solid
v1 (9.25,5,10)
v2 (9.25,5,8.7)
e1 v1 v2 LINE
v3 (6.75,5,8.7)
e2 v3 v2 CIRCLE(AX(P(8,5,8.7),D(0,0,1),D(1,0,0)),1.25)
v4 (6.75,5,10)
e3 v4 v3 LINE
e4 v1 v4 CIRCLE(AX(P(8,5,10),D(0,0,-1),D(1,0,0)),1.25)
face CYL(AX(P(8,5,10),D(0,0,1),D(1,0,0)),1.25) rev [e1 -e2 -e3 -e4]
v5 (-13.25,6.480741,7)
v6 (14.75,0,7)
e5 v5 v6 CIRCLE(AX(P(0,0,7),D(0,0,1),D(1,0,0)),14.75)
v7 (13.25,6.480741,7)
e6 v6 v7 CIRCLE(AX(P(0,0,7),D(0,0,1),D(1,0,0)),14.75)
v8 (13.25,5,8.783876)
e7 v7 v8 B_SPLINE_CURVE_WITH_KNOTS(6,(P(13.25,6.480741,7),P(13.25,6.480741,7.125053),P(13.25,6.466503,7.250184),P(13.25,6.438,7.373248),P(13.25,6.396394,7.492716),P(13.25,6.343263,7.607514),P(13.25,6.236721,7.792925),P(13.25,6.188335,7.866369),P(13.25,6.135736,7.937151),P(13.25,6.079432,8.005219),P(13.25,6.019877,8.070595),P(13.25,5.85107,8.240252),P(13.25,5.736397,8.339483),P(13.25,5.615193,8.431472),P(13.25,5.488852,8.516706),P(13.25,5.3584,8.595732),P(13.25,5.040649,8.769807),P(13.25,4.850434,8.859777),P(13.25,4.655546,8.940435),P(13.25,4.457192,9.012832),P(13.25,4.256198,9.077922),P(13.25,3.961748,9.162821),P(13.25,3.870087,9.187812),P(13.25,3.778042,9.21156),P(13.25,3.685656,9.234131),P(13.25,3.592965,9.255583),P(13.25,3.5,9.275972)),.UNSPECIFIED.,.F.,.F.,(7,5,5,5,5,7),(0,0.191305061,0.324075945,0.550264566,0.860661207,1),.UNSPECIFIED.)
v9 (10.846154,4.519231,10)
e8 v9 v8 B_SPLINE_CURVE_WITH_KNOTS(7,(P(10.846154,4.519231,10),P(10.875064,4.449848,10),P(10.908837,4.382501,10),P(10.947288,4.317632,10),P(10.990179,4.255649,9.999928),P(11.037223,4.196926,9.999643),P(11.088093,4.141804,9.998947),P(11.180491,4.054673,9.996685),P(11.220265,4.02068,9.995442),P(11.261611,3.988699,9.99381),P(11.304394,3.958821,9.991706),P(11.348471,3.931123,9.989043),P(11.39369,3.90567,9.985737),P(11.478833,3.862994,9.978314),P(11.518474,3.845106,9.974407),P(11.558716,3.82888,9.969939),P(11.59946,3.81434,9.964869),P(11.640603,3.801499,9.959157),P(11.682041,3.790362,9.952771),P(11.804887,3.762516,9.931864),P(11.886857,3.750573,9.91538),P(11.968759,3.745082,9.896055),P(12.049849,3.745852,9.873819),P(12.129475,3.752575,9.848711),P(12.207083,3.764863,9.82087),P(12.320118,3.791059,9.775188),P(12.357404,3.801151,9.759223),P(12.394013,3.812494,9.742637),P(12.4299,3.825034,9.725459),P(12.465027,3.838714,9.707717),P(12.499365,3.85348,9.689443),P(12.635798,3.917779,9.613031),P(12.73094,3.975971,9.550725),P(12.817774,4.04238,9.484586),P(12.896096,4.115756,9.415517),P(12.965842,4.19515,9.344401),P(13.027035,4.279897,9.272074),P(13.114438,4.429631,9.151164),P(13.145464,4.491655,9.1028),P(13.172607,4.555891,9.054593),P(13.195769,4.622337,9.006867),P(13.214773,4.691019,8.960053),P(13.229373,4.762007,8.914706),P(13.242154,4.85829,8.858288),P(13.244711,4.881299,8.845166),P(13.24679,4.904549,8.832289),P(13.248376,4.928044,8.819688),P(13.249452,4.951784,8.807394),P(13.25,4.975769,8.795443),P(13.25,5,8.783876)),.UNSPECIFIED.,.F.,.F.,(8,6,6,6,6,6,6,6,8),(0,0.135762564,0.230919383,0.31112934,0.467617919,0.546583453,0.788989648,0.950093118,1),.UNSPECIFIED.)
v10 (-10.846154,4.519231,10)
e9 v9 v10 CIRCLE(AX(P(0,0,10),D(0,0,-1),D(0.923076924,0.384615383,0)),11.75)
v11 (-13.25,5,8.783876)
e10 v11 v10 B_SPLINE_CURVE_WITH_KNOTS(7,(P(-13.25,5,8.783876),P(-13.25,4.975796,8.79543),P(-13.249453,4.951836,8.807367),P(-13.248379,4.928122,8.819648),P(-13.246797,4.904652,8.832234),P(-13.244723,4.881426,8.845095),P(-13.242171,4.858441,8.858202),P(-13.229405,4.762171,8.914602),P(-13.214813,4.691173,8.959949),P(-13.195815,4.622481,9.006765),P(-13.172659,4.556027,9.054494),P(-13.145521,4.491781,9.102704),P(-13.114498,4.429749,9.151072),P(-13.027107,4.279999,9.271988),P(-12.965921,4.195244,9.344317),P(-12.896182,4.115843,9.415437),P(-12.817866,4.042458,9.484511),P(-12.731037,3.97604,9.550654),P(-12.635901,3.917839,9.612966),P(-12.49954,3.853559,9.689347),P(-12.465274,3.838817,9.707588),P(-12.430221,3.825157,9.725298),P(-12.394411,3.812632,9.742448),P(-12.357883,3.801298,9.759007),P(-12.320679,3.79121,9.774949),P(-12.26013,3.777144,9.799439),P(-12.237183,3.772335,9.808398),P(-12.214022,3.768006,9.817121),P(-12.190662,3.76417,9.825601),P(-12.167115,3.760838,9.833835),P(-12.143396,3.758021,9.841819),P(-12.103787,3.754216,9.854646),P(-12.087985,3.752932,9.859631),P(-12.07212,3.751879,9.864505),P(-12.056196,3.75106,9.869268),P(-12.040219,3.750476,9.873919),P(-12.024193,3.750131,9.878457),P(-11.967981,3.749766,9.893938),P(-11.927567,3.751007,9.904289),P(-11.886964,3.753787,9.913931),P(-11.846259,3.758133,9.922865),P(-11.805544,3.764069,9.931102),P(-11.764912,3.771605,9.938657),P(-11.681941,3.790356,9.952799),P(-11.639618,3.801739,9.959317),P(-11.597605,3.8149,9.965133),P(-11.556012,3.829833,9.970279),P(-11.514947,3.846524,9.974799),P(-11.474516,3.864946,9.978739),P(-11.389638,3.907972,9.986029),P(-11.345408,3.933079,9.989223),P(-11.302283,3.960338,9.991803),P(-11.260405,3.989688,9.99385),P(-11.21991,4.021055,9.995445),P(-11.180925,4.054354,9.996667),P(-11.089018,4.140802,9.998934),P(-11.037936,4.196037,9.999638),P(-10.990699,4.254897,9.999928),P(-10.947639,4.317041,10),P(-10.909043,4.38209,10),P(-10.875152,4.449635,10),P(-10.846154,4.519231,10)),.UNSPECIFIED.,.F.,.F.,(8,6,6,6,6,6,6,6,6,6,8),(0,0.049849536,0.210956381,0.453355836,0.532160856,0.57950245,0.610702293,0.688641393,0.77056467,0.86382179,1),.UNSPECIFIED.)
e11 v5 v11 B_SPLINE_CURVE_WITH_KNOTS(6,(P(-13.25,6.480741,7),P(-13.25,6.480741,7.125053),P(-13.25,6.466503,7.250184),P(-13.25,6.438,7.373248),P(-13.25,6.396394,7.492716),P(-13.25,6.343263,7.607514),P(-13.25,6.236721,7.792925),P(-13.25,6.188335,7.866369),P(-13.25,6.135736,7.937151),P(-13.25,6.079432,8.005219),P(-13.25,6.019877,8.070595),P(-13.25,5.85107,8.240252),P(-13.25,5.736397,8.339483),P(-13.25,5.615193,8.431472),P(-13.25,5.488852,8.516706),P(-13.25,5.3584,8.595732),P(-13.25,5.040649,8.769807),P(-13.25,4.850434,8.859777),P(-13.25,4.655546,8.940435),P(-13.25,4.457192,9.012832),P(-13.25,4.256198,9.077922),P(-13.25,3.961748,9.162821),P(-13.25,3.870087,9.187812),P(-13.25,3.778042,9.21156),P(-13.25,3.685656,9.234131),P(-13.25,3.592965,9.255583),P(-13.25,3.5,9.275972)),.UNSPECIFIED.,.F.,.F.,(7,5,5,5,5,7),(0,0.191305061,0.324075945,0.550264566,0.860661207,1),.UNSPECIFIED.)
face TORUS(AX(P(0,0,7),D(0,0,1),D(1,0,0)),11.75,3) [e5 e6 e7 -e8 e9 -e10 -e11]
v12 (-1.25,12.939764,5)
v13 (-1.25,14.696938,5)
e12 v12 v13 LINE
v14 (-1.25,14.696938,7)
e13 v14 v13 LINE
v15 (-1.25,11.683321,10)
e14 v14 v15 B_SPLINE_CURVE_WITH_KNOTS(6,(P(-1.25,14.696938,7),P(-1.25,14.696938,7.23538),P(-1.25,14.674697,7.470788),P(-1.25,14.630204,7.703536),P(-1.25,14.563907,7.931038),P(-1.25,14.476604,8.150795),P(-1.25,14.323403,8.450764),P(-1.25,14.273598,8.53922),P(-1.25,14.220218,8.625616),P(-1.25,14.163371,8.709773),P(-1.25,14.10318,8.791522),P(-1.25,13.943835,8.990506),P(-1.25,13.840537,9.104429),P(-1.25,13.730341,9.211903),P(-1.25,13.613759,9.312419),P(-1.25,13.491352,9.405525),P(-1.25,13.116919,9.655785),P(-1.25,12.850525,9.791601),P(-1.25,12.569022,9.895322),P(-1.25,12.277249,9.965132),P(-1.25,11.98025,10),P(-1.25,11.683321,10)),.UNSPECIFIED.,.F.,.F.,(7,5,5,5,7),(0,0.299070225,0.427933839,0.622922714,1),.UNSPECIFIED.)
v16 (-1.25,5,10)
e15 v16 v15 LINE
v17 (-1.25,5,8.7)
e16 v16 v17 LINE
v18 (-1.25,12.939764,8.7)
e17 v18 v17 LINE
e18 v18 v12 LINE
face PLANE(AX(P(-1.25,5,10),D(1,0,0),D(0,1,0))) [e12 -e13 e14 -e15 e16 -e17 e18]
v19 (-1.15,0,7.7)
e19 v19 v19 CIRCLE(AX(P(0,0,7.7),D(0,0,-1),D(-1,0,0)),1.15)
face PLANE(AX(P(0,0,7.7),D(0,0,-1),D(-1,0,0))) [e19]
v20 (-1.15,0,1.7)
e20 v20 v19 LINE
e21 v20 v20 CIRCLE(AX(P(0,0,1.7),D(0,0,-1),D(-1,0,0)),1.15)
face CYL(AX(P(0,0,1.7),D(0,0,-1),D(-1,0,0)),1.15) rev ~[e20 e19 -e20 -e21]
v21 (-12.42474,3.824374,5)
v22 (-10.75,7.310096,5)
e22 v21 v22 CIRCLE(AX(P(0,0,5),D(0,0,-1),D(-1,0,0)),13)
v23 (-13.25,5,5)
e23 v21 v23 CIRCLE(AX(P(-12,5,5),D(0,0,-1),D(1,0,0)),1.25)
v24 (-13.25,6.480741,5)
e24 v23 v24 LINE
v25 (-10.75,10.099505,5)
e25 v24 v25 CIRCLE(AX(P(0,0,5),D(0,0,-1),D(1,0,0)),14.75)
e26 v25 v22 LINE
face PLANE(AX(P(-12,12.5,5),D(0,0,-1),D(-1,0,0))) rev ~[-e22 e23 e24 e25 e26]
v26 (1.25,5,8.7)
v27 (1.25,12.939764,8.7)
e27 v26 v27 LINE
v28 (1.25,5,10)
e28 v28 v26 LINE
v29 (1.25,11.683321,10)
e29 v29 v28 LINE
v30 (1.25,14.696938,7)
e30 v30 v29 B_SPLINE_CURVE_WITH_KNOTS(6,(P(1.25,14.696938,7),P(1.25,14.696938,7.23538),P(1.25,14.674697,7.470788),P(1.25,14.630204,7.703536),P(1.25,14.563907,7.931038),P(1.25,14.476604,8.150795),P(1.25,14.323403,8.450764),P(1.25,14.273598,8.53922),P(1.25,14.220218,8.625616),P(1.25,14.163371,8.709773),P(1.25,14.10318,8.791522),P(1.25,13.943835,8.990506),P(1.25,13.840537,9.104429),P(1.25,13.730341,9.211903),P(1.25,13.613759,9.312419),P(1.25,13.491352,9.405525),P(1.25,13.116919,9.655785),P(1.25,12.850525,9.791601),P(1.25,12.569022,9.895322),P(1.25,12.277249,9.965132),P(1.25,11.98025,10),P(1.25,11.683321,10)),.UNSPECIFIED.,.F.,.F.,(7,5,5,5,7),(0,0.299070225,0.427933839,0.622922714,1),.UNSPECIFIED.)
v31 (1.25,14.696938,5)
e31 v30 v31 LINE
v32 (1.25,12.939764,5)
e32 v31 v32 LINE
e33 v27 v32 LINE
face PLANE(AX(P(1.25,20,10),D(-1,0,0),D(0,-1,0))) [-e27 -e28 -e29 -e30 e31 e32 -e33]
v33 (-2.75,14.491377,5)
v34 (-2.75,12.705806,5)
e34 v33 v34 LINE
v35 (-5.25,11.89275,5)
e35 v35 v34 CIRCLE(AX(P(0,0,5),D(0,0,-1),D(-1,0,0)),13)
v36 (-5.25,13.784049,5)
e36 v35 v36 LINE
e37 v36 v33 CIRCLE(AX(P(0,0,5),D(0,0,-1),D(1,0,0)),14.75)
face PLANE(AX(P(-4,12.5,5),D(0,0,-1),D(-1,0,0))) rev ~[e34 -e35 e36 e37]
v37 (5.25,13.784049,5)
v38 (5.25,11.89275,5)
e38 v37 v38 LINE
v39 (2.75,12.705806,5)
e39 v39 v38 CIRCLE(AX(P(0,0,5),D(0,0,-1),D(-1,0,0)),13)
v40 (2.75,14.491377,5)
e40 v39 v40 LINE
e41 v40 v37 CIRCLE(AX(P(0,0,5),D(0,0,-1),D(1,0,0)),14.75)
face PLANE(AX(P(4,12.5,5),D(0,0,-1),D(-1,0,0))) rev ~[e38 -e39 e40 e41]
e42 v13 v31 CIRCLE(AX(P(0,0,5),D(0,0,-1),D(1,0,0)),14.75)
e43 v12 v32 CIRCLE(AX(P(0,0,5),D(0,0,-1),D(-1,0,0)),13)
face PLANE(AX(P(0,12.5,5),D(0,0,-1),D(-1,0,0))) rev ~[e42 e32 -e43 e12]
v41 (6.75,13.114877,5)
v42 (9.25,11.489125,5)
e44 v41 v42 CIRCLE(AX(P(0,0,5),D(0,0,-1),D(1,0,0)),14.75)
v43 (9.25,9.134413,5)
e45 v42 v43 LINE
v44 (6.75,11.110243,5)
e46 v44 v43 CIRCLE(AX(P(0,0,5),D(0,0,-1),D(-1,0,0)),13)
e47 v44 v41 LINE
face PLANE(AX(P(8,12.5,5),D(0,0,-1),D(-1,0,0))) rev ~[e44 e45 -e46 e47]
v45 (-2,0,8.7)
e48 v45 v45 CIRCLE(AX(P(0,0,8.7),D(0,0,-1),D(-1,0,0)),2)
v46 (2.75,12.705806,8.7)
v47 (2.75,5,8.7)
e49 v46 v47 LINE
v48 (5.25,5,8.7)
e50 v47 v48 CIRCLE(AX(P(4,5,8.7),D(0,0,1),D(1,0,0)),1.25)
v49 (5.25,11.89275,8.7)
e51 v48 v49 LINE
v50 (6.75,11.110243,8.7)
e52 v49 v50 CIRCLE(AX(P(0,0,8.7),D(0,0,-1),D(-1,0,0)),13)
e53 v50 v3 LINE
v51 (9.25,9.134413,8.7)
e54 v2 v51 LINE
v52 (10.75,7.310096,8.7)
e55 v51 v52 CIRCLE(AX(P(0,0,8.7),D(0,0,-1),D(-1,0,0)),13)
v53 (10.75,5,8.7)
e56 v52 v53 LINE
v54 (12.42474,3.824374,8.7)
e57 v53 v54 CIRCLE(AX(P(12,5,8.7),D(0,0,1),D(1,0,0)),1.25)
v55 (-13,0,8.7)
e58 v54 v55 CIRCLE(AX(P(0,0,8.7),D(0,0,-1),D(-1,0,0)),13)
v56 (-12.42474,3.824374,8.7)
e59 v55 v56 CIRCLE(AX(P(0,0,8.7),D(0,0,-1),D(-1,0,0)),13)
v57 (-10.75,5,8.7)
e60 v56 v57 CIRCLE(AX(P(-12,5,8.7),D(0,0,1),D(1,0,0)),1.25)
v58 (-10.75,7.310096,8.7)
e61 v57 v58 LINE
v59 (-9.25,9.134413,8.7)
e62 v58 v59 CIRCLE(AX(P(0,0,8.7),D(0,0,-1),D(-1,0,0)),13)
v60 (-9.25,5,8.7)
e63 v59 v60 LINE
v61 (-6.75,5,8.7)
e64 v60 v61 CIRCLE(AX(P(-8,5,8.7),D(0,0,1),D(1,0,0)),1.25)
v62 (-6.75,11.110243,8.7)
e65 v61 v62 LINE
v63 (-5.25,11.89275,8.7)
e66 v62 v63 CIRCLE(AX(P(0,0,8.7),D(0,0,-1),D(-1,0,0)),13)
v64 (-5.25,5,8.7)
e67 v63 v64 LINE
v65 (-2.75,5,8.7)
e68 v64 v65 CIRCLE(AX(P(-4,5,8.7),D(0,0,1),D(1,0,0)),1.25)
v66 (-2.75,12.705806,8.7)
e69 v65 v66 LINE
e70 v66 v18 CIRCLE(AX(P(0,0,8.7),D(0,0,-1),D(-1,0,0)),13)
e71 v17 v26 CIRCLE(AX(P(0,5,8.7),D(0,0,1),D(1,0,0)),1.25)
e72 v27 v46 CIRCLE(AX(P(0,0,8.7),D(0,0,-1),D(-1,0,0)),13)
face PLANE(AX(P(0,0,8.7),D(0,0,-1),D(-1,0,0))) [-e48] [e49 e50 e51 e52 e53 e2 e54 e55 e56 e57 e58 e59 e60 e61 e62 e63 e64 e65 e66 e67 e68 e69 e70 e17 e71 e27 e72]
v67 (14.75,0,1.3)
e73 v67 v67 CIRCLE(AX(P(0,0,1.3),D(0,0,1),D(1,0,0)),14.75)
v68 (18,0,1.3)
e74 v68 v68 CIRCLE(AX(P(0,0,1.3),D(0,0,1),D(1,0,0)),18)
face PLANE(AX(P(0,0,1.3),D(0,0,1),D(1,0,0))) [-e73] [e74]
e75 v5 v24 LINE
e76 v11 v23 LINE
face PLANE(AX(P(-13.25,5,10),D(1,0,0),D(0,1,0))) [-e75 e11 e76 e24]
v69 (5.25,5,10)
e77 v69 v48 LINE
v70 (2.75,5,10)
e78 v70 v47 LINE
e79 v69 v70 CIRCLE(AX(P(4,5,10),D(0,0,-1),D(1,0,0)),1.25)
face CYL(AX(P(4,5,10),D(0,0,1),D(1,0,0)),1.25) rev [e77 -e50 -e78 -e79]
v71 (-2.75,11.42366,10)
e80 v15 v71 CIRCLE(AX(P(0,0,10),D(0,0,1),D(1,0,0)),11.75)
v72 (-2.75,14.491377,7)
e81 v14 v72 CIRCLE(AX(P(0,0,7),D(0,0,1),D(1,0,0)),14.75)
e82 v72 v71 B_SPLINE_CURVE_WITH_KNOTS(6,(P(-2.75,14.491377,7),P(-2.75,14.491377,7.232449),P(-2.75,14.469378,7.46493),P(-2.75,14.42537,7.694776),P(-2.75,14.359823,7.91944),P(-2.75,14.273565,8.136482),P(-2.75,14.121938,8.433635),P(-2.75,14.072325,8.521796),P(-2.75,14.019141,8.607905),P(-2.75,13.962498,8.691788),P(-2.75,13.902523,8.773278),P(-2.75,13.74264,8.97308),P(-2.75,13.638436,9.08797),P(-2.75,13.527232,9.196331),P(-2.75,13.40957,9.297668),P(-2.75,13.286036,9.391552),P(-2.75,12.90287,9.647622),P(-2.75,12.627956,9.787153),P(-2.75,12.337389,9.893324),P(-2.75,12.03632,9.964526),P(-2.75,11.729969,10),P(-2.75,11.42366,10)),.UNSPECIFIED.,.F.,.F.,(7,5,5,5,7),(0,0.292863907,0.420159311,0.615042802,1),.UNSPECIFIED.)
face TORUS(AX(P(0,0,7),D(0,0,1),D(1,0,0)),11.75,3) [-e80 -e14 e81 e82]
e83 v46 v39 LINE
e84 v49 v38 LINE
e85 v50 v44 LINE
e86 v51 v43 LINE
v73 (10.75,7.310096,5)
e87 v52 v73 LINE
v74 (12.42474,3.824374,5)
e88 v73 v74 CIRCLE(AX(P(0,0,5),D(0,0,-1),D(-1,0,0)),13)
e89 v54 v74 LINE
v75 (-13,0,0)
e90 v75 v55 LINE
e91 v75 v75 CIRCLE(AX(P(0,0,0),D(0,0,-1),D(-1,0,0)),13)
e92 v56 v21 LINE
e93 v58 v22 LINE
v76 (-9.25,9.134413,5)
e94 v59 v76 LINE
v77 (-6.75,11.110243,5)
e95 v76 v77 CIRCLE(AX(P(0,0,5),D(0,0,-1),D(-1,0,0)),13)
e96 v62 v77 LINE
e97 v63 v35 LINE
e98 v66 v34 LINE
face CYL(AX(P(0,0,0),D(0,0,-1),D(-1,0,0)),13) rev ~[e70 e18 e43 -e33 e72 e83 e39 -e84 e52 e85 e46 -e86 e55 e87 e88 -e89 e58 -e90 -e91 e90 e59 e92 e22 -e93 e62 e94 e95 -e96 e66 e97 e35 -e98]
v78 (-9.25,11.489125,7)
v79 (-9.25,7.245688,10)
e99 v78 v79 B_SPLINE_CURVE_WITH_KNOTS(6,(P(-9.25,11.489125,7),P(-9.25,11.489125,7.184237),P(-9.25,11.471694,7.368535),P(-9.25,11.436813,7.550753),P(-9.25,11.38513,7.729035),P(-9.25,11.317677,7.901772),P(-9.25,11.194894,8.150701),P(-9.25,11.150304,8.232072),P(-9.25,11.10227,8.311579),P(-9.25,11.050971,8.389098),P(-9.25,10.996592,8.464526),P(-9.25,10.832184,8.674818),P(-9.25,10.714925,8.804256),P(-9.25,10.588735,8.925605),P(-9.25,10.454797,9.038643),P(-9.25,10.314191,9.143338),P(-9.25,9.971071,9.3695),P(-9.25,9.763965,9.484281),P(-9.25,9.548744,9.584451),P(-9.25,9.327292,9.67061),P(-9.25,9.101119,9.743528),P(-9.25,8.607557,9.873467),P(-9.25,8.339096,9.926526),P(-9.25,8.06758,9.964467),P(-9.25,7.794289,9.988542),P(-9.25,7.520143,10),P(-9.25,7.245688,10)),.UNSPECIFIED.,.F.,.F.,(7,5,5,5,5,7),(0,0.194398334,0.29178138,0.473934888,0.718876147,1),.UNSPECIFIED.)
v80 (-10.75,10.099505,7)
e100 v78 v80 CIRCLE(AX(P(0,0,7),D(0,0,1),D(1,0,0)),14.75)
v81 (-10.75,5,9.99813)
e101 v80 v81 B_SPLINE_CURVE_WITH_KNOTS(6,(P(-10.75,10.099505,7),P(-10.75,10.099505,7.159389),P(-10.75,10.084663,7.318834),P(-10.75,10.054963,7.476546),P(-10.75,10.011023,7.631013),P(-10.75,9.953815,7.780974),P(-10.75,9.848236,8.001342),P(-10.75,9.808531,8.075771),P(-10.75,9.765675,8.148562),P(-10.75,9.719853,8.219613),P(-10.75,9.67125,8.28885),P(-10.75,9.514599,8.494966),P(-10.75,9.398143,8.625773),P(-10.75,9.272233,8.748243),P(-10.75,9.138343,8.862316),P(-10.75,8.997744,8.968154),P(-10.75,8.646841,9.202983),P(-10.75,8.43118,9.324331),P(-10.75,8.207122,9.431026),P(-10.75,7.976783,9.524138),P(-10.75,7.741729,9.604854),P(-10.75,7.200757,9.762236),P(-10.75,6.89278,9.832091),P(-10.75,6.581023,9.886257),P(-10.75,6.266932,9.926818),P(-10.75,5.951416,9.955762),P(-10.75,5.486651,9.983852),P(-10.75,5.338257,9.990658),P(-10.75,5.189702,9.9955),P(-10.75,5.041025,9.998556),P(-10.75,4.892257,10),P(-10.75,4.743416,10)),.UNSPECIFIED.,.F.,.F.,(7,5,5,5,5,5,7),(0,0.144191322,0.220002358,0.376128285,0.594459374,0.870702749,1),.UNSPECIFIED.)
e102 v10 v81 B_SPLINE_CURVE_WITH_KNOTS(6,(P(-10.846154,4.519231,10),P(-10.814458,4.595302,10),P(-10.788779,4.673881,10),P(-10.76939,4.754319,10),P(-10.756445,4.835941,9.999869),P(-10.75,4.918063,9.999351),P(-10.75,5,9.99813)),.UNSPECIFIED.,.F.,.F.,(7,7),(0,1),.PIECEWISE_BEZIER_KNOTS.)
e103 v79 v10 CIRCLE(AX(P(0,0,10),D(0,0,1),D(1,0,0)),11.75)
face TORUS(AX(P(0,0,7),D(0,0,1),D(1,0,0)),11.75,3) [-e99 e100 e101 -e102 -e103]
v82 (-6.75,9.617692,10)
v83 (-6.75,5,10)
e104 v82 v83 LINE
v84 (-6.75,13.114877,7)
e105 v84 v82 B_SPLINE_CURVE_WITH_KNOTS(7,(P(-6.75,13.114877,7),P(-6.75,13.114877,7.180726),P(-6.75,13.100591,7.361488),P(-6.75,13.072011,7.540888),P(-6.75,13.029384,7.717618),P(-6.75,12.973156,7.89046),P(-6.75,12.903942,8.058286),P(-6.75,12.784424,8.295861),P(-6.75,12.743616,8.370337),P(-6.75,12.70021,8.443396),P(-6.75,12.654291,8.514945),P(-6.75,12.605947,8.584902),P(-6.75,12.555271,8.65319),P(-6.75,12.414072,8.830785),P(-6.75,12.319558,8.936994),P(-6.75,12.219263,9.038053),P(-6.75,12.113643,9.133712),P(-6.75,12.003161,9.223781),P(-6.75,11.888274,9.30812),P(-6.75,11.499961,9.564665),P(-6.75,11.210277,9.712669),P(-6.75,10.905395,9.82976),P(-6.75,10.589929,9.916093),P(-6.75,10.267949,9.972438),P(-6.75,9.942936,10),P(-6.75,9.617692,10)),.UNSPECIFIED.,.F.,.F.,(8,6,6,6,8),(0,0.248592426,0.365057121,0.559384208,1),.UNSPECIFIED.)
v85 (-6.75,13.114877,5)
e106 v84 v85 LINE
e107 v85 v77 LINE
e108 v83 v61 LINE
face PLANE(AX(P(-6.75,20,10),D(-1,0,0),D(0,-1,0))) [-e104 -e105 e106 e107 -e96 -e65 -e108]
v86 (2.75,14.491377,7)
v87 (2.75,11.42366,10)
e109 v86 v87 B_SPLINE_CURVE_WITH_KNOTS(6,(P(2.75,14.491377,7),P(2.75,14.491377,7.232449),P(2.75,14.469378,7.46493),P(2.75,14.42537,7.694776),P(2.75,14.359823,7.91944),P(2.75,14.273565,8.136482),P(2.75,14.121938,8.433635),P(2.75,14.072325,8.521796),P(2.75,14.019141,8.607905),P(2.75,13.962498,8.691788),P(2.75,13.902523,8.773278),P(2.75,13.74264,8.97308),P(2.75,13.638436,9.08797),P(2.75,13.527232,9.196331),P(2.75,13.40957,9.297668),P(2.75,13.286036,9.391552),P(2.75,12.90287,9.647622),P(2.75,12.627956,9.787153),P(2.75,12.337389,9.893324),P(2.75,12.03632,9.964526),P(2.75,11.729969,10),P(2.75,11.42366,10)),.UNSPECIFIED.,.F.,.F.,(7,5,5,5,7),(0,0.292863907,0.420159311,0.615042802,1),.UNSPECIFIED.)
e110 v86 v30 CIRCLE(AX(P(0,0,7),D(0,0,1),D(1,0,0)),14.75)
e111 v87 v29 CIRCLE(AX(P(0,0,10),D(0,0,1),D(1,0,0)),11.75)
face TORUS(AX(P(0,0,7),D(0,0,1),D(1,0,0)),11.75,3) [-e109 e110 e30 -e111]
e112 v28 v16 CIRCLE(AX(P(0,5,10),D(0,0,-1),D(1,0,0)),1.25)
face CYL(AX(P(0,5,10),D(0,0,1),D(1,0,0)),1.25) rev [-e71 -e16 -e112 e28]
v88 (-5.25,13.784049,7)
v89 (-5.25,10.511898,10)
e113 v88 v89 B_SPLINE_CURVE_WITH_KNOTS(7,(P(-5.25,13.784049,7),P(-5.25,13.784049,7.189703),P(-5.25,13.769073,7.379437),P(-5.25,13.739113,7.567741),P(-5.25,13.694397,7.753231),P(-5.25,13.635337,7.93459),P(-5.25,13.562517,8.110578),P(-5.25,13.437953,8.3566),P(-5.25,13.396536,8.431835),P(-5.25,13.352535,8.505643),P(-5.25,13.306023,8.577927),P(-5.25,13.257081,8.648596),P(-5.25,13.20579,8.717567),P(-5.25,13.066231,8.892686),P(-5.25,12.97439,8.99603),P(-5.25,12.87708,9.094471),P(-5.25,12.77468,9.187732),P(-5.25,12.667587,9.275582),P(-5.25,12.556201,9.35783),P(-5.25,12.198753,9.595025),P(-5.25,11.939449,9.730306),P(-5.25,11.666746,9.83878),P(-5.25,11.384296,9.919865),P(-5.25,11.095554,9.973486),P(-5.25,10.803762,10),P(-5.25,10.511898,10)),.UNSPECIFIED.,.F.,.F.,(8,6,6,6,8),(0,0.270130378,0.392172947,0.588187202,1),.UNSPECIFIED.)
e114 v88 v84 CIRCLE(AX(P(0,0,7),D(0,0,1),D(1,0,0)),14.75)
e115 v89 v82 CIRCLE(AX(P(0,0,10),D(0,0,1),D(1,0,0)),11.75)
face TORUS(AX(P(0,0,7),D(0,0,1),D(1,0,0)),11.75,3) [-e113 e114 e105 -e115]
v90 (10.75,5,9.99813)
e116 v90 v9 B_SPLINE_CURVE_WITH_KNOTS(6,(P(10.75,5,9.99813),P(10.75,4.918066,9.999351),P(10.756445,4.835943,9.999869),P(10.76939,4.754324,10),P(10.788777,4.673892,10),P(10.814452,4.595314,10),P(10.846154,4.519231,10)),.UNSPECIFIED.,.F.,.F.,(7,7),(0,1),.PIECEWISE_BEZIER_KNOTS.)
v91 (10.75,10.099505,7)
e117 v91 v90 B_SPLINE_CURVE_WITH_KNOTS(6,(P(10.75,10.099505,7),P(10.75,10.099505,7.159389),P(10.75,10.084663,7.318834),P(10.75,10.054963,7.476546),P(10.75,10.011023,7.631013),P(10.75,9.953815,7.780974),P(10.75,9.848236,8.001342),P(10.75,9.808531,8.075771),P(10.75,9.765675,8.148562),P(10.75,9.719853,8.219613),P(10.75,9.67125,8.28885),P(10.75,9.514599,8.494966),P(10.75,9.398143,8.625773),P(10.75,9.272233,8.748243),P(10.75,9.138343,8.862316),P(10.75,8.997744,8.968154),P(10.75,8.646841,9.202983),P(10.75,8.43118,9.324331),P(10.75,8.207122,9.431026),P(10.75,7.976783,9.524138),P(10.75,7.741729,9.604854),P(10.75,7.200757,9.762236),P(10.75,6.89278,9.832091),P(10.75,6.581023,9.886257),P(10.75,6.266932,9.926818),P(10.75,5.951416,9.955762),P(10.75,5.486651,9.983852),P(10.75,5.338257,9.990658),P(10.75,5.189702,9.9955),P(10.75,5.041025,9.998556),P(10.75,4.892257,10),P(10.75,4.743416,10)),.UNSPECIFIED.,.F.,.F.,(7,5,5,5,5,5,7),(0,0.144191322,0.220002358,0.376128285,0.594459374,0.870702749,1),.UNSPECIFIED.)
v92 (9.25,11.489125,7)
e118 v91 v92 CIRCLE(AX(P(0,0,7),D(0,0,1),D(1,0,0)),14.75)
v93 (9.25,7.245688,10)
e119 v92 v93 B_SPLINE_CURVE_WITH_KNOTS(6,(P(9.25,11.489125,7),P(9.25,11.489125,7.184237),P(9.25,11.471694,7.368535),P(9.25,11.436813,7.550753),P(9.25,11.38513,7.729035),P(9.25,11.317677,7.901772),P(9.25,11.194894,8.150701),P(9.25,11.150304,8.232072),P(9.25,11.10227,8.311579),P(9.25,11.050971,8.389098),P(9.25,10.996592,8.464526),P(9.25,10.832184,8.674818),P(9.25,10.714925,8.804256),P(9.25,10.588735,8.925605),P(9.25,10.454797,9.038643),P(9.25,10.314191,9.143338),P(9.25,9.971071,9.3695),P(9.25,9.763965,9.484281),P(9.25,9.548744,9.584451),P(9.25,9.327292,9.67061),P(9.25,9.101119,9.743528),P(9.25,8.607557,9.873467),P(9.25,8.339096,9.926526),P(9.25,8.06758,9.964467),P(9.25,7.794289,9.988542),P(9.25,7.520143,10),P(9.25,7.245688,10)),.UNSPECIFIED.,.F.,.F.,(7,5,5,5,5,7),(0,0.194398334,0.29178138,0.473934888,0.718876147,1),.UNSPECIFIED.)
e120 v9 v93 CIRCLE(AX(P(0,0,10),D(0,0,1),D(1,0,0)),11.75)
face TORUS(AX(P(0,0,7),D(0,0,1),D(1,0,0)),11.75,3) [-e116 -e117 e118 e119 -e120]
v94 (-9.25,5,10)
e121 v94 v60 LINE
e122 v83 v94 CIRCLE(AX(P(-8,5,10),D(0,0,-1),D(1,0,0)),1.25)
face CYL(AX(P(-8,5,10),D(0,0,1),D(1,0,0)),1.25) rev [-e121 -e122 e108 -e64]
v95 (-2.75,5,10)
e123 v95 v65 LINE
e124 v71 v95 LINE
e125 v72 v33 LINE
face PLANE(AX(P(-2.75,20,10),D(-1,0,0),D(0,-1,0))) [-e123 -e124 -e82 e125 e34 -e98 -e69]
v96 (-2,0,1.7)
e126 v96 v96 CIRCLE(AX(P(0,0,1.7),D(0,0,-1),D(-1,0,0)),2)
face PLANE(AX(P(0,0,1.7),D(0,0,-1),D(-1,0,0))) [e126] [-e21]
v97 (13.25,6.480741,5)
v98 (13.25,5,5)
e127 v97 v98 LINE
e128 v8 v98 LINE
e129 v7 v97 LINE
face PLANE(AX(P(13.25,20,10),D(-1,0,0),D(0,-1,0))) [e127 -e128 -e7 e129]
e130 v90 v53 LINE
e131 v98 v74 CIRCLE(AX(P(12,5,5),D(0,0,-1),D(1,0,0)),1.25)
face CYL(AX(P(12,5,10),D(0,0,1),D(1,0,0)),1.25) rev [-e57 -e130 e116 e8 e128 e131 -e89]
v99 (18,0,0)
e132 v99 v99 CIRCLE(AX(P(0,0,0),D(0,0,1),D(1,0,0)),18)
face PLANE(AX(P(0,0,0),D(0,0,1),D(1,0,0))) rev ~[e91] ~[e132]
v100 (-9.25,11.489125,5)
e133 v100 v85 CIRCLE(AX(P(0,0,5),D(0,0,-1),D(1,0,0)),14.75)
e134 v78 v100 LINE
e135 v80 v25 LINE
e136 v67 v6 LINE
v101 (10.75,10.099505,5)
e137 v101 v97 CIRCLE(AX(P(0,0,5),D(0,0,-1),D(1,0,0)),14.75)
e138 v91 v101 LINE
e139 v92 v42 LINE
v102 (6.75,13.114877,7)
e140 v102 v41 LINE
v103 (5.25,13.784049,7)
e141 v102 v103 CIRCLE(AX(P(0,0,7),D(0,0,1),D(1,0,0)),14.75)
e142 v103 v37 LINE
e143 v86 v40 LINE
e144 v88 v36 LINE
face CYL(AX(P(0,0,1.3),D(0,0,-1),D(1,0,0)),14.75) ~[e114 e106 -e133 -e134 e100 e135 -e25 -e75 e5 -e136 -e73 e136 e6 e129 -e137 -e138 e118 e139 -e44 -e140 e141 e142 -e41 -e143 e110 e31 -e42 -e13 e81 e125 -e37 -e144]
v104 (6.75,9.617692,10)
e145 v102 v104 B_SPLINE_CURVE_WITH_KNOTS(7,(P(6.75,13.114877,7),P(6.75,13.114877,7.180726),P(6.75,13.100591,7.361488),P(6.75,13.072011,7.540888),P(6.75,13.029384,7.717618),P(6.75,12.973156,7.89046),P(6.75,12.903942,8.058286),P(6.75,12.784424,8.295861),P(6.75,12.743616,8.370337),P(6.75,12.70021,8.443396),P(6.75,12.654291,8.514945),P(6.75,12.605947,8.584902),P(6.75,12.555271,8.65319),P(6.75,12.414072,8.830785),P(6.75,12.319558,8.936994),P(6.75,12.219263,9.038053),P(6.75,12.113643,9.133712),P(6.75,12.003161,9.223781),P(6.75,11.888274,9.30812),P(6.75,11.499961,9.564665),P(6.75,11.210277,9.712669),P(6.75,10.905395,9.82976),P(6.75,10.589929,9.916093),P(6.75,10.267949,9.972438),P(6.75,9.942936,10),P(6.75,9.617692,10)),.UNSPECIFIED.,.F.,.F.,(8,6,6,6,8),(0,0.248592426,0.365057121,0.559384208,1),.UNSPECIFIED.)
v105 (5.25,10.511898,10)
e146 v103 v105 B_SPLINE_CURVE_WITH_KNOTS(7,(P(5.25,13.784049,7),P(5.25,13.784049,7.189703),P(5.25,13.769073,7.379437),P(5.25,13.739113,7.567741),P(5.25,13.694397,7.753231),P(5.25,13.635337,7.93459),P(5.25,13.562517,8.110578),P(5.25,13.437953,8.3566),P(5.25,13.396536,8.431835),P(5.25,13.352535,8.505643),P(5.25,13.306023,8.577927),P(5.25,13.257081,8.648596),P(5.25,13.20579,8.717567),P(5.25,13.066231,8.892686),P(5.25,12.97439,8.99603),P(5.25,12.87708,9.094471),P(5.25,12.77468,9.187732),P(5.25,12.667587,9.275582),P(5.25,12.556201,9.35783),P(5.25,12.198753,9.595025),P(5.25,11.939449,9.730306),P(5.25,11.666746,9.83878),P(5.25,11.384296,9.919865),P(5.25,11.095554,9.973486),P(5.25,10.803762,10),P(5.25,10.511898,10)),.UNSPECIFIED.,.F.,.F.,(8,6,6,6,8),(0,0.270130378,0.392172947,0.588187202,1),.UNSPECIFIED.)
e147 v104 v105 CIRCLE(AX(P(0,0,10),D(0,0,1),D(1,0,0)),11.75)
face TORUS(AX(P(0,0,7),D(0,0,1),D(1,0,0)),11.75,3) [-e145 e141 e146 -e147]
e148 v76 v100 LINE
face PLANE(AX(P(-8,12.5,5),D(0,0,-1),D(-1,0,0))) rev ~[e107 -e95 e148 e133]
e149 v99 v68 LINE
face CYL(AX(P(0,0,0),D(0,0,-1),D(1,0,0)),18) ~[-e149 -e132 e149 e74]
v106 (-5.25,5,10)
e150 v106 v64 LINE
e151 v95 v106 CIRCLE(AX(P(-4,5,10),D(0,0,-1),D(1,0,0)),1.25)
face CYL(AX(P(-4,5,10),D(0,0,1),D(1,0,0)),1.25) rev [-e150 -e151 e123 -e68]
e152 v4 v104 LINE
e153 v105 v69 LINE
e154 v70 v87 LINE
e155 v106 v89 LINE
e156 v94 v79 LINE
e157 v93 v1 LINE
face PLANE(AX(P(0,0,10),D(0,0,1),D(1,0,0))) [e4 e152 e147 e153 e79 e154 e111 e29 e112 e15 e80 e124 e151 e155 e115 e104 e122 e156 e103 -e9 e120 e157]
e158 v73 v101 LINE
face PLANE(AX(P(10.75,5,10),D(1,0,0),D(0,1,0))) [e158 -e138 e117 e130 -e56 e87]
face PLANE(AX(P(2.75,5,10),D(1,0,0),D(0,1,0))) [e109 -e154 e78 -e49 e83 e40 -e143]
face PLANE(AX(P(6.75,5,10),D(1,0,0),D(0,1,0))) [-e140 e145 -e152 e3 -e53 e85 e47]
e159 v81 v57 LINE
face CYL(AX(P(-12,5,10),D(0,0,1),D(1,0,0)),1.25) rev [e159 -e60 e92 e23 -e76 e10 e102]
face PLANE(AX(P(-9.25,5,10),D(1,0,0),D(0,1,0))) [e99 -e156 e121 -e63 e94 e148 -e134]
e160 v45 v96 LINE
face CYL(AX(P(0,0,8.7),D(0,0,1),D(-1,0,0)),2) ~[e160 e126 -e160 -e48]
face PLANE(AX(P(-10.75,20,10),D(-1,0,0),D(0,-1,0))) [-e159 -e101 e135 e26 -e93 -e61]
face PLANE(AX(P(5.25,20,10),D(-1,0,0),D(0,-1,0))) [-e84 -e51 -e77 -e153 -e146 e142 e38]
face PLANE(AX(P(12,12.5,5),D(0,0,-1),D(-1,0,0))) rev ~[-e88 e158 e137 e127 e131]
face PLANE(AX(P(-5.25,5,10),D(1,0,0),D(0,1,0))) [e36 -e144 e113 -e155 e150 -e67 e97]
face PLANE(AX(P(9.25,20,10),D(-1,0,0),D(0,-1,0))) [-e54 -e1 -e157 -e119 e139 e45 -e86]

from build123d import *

# Parameters (mm, degrees)
SKETCH1_R           = 18
BOSS_EXTRUDE1_DEPTH = 1.3
SKETCH2_R           = 14.75
BOSS_EXTRUDE2_DEPTH = 8.7
FILLET1_R           = 3
SKETCH3_R           = 13
CUT_EXTRUDE1_DEPTH  = 8.7
SKETCH4_R           = 2
BOSS_EXTRUDE3_DEPTH = 7
SKETCH5_R           = 1.15
CUT_EXTRUDE2_DEPTH  = 6
CUT_EXTRUDE3_DEPTH  = 5


with BuildPart() as part:
    # Sketch1 → Boss-Extrude1 (new body)
    with BuildSketch(Plane.XY):
        Circle(SKETCH1_R)
    extrude(amount=BOSS_EXTRUDE1_DEPTH)

    # Sketch2 → Boss-Extrude2 (add)
    with BuildSketch(Plane.XY.offset(1.3)):
        Circle(SKETCH2_R)
    extrude(amount=BOSS_EXTRUDE2_DEPTH)

    # Fillet1
    fillet1_edges = [part.edges().sort_by_distance(p)[0] for p in [
        (-14.75, 0, 10),
    ]]
    fillet(fillet1_edges, radius=FILLET1_R)

    # Sketch3 → Cut-Extrude1 (cut)
    with BuildSketch(Plane(origin=(0, 0, 0), x_dir=(-1, 0, 0), z_dir=(0, 0, -1))):
        Circle(SKETCH3_R)
    extrude(amount=-CUT_EXTRUDE1_DEPTH, mode=Mode.SUBTRACT)

    # Sketch4 → Boss-Extrude3 (add)
    with BuildSketch(Plane(origin=(0, 0, 8.7), x_dir=(-1, 0, 0), z_dir=(0, 0, -1))):
        Circle(SKETCH4_R)
    extrude(amount=BOSS_EXTRUDE3_DEPTH)

    # Sketch5 → Cut-Extrude2 (cut)
    with BuildSketch(Plane(origin=(0, 0, 1.7), x_dir=(-1, 0, 0), z_dir=(0, 0, -1))):
        Circle(SKETCH5_R)
    extrude(amount=-CUT_EXTRUDE2_DEPTH, mode=Mode.SUBTRACT)

    # Sketch8 → Cut-Extrude3 (cut)
    with BuildSketch(Plane.XY.offset(10)):
        with BuildLine():
            Line((-1.25, 5), (-1.25, 20))
            ThreePointArc((-1.25, 20), (0, 21.25), (1.25, 20))
            Line((1.25, 20), (1.25, 5))
            ThreePointArc((1.25, 5), (0, 3.75), (-1.25, 5))
        make_face()
        with BuildLine():
            Line((2.75, 5), (2.75, 20))
            ThreePointArc((2.75, 20), (4, 21.25), (5.25, 20))
            Line((5.25, 20), (5.25, 5))
            ThreePointArc((5.25, 5), (4, 3.75), (2.75, 5))
        make_face()
        with BuildLine():
            Line((6.75, 5), (6.75, 20))
            ThreePointArc((6.75, 20), (8, 21.25), (9.25, 20))
            Line((9.25, 20), (9.25, 5))
            ThreePointArc((9.25, 5), (8, 3.75), (6.75, 5))
        make_face()
        with BuildLine():
            Line((10.75, 5), (10.75, 20))
            ThreePointArc((10.75, 20), (12, 21.25), (13.25, 20))
            Line((13.25, 20), (13.25, 5))
            ThreePointArc((13.25, 5), (12, 3.75), (10.75, 5))
        make_face()
        with BuildLine():
            Line((-5.25, 5), (-5.25, 20))
            ThreePointArc((-5.25, 20), (-4, 21.25), (-2.75, 20))
            Line((-2.75, 20), (-2.75, 5))
            ThreePointArc((-2.75, 5), (-4, 3.75), (-5.25, 5))
        make_face()
        with BuildLine():
            Line((-9.25, 5), (-9.25, 20))
            ThreePointArc((-9.25, 20), (-8, 21.25), (-6.75, 20))
            Line((-6.75, 20), (-6.75, 5))
            ThreePointArc((-6.75, 5), (-8, 3.75), (-9.25, 5))
        make_face()
        with BuildLine():
            Line((-13.25, 5), (-13.25, 20))
            ThreePointArc((-13.25, 20), (-12, 21.25), (-10.75, 20))
            Line((-10.75, 20), (-10.75, 5))
            ThreePointArc((-10.75, 5), (-12, 3.75), (-13.25, 5))
        make_face()
    extrude(amount=-CUT_EXTRUDE3_DEPTH, mode=Mode.SUBTRACT)


solid = part.part
